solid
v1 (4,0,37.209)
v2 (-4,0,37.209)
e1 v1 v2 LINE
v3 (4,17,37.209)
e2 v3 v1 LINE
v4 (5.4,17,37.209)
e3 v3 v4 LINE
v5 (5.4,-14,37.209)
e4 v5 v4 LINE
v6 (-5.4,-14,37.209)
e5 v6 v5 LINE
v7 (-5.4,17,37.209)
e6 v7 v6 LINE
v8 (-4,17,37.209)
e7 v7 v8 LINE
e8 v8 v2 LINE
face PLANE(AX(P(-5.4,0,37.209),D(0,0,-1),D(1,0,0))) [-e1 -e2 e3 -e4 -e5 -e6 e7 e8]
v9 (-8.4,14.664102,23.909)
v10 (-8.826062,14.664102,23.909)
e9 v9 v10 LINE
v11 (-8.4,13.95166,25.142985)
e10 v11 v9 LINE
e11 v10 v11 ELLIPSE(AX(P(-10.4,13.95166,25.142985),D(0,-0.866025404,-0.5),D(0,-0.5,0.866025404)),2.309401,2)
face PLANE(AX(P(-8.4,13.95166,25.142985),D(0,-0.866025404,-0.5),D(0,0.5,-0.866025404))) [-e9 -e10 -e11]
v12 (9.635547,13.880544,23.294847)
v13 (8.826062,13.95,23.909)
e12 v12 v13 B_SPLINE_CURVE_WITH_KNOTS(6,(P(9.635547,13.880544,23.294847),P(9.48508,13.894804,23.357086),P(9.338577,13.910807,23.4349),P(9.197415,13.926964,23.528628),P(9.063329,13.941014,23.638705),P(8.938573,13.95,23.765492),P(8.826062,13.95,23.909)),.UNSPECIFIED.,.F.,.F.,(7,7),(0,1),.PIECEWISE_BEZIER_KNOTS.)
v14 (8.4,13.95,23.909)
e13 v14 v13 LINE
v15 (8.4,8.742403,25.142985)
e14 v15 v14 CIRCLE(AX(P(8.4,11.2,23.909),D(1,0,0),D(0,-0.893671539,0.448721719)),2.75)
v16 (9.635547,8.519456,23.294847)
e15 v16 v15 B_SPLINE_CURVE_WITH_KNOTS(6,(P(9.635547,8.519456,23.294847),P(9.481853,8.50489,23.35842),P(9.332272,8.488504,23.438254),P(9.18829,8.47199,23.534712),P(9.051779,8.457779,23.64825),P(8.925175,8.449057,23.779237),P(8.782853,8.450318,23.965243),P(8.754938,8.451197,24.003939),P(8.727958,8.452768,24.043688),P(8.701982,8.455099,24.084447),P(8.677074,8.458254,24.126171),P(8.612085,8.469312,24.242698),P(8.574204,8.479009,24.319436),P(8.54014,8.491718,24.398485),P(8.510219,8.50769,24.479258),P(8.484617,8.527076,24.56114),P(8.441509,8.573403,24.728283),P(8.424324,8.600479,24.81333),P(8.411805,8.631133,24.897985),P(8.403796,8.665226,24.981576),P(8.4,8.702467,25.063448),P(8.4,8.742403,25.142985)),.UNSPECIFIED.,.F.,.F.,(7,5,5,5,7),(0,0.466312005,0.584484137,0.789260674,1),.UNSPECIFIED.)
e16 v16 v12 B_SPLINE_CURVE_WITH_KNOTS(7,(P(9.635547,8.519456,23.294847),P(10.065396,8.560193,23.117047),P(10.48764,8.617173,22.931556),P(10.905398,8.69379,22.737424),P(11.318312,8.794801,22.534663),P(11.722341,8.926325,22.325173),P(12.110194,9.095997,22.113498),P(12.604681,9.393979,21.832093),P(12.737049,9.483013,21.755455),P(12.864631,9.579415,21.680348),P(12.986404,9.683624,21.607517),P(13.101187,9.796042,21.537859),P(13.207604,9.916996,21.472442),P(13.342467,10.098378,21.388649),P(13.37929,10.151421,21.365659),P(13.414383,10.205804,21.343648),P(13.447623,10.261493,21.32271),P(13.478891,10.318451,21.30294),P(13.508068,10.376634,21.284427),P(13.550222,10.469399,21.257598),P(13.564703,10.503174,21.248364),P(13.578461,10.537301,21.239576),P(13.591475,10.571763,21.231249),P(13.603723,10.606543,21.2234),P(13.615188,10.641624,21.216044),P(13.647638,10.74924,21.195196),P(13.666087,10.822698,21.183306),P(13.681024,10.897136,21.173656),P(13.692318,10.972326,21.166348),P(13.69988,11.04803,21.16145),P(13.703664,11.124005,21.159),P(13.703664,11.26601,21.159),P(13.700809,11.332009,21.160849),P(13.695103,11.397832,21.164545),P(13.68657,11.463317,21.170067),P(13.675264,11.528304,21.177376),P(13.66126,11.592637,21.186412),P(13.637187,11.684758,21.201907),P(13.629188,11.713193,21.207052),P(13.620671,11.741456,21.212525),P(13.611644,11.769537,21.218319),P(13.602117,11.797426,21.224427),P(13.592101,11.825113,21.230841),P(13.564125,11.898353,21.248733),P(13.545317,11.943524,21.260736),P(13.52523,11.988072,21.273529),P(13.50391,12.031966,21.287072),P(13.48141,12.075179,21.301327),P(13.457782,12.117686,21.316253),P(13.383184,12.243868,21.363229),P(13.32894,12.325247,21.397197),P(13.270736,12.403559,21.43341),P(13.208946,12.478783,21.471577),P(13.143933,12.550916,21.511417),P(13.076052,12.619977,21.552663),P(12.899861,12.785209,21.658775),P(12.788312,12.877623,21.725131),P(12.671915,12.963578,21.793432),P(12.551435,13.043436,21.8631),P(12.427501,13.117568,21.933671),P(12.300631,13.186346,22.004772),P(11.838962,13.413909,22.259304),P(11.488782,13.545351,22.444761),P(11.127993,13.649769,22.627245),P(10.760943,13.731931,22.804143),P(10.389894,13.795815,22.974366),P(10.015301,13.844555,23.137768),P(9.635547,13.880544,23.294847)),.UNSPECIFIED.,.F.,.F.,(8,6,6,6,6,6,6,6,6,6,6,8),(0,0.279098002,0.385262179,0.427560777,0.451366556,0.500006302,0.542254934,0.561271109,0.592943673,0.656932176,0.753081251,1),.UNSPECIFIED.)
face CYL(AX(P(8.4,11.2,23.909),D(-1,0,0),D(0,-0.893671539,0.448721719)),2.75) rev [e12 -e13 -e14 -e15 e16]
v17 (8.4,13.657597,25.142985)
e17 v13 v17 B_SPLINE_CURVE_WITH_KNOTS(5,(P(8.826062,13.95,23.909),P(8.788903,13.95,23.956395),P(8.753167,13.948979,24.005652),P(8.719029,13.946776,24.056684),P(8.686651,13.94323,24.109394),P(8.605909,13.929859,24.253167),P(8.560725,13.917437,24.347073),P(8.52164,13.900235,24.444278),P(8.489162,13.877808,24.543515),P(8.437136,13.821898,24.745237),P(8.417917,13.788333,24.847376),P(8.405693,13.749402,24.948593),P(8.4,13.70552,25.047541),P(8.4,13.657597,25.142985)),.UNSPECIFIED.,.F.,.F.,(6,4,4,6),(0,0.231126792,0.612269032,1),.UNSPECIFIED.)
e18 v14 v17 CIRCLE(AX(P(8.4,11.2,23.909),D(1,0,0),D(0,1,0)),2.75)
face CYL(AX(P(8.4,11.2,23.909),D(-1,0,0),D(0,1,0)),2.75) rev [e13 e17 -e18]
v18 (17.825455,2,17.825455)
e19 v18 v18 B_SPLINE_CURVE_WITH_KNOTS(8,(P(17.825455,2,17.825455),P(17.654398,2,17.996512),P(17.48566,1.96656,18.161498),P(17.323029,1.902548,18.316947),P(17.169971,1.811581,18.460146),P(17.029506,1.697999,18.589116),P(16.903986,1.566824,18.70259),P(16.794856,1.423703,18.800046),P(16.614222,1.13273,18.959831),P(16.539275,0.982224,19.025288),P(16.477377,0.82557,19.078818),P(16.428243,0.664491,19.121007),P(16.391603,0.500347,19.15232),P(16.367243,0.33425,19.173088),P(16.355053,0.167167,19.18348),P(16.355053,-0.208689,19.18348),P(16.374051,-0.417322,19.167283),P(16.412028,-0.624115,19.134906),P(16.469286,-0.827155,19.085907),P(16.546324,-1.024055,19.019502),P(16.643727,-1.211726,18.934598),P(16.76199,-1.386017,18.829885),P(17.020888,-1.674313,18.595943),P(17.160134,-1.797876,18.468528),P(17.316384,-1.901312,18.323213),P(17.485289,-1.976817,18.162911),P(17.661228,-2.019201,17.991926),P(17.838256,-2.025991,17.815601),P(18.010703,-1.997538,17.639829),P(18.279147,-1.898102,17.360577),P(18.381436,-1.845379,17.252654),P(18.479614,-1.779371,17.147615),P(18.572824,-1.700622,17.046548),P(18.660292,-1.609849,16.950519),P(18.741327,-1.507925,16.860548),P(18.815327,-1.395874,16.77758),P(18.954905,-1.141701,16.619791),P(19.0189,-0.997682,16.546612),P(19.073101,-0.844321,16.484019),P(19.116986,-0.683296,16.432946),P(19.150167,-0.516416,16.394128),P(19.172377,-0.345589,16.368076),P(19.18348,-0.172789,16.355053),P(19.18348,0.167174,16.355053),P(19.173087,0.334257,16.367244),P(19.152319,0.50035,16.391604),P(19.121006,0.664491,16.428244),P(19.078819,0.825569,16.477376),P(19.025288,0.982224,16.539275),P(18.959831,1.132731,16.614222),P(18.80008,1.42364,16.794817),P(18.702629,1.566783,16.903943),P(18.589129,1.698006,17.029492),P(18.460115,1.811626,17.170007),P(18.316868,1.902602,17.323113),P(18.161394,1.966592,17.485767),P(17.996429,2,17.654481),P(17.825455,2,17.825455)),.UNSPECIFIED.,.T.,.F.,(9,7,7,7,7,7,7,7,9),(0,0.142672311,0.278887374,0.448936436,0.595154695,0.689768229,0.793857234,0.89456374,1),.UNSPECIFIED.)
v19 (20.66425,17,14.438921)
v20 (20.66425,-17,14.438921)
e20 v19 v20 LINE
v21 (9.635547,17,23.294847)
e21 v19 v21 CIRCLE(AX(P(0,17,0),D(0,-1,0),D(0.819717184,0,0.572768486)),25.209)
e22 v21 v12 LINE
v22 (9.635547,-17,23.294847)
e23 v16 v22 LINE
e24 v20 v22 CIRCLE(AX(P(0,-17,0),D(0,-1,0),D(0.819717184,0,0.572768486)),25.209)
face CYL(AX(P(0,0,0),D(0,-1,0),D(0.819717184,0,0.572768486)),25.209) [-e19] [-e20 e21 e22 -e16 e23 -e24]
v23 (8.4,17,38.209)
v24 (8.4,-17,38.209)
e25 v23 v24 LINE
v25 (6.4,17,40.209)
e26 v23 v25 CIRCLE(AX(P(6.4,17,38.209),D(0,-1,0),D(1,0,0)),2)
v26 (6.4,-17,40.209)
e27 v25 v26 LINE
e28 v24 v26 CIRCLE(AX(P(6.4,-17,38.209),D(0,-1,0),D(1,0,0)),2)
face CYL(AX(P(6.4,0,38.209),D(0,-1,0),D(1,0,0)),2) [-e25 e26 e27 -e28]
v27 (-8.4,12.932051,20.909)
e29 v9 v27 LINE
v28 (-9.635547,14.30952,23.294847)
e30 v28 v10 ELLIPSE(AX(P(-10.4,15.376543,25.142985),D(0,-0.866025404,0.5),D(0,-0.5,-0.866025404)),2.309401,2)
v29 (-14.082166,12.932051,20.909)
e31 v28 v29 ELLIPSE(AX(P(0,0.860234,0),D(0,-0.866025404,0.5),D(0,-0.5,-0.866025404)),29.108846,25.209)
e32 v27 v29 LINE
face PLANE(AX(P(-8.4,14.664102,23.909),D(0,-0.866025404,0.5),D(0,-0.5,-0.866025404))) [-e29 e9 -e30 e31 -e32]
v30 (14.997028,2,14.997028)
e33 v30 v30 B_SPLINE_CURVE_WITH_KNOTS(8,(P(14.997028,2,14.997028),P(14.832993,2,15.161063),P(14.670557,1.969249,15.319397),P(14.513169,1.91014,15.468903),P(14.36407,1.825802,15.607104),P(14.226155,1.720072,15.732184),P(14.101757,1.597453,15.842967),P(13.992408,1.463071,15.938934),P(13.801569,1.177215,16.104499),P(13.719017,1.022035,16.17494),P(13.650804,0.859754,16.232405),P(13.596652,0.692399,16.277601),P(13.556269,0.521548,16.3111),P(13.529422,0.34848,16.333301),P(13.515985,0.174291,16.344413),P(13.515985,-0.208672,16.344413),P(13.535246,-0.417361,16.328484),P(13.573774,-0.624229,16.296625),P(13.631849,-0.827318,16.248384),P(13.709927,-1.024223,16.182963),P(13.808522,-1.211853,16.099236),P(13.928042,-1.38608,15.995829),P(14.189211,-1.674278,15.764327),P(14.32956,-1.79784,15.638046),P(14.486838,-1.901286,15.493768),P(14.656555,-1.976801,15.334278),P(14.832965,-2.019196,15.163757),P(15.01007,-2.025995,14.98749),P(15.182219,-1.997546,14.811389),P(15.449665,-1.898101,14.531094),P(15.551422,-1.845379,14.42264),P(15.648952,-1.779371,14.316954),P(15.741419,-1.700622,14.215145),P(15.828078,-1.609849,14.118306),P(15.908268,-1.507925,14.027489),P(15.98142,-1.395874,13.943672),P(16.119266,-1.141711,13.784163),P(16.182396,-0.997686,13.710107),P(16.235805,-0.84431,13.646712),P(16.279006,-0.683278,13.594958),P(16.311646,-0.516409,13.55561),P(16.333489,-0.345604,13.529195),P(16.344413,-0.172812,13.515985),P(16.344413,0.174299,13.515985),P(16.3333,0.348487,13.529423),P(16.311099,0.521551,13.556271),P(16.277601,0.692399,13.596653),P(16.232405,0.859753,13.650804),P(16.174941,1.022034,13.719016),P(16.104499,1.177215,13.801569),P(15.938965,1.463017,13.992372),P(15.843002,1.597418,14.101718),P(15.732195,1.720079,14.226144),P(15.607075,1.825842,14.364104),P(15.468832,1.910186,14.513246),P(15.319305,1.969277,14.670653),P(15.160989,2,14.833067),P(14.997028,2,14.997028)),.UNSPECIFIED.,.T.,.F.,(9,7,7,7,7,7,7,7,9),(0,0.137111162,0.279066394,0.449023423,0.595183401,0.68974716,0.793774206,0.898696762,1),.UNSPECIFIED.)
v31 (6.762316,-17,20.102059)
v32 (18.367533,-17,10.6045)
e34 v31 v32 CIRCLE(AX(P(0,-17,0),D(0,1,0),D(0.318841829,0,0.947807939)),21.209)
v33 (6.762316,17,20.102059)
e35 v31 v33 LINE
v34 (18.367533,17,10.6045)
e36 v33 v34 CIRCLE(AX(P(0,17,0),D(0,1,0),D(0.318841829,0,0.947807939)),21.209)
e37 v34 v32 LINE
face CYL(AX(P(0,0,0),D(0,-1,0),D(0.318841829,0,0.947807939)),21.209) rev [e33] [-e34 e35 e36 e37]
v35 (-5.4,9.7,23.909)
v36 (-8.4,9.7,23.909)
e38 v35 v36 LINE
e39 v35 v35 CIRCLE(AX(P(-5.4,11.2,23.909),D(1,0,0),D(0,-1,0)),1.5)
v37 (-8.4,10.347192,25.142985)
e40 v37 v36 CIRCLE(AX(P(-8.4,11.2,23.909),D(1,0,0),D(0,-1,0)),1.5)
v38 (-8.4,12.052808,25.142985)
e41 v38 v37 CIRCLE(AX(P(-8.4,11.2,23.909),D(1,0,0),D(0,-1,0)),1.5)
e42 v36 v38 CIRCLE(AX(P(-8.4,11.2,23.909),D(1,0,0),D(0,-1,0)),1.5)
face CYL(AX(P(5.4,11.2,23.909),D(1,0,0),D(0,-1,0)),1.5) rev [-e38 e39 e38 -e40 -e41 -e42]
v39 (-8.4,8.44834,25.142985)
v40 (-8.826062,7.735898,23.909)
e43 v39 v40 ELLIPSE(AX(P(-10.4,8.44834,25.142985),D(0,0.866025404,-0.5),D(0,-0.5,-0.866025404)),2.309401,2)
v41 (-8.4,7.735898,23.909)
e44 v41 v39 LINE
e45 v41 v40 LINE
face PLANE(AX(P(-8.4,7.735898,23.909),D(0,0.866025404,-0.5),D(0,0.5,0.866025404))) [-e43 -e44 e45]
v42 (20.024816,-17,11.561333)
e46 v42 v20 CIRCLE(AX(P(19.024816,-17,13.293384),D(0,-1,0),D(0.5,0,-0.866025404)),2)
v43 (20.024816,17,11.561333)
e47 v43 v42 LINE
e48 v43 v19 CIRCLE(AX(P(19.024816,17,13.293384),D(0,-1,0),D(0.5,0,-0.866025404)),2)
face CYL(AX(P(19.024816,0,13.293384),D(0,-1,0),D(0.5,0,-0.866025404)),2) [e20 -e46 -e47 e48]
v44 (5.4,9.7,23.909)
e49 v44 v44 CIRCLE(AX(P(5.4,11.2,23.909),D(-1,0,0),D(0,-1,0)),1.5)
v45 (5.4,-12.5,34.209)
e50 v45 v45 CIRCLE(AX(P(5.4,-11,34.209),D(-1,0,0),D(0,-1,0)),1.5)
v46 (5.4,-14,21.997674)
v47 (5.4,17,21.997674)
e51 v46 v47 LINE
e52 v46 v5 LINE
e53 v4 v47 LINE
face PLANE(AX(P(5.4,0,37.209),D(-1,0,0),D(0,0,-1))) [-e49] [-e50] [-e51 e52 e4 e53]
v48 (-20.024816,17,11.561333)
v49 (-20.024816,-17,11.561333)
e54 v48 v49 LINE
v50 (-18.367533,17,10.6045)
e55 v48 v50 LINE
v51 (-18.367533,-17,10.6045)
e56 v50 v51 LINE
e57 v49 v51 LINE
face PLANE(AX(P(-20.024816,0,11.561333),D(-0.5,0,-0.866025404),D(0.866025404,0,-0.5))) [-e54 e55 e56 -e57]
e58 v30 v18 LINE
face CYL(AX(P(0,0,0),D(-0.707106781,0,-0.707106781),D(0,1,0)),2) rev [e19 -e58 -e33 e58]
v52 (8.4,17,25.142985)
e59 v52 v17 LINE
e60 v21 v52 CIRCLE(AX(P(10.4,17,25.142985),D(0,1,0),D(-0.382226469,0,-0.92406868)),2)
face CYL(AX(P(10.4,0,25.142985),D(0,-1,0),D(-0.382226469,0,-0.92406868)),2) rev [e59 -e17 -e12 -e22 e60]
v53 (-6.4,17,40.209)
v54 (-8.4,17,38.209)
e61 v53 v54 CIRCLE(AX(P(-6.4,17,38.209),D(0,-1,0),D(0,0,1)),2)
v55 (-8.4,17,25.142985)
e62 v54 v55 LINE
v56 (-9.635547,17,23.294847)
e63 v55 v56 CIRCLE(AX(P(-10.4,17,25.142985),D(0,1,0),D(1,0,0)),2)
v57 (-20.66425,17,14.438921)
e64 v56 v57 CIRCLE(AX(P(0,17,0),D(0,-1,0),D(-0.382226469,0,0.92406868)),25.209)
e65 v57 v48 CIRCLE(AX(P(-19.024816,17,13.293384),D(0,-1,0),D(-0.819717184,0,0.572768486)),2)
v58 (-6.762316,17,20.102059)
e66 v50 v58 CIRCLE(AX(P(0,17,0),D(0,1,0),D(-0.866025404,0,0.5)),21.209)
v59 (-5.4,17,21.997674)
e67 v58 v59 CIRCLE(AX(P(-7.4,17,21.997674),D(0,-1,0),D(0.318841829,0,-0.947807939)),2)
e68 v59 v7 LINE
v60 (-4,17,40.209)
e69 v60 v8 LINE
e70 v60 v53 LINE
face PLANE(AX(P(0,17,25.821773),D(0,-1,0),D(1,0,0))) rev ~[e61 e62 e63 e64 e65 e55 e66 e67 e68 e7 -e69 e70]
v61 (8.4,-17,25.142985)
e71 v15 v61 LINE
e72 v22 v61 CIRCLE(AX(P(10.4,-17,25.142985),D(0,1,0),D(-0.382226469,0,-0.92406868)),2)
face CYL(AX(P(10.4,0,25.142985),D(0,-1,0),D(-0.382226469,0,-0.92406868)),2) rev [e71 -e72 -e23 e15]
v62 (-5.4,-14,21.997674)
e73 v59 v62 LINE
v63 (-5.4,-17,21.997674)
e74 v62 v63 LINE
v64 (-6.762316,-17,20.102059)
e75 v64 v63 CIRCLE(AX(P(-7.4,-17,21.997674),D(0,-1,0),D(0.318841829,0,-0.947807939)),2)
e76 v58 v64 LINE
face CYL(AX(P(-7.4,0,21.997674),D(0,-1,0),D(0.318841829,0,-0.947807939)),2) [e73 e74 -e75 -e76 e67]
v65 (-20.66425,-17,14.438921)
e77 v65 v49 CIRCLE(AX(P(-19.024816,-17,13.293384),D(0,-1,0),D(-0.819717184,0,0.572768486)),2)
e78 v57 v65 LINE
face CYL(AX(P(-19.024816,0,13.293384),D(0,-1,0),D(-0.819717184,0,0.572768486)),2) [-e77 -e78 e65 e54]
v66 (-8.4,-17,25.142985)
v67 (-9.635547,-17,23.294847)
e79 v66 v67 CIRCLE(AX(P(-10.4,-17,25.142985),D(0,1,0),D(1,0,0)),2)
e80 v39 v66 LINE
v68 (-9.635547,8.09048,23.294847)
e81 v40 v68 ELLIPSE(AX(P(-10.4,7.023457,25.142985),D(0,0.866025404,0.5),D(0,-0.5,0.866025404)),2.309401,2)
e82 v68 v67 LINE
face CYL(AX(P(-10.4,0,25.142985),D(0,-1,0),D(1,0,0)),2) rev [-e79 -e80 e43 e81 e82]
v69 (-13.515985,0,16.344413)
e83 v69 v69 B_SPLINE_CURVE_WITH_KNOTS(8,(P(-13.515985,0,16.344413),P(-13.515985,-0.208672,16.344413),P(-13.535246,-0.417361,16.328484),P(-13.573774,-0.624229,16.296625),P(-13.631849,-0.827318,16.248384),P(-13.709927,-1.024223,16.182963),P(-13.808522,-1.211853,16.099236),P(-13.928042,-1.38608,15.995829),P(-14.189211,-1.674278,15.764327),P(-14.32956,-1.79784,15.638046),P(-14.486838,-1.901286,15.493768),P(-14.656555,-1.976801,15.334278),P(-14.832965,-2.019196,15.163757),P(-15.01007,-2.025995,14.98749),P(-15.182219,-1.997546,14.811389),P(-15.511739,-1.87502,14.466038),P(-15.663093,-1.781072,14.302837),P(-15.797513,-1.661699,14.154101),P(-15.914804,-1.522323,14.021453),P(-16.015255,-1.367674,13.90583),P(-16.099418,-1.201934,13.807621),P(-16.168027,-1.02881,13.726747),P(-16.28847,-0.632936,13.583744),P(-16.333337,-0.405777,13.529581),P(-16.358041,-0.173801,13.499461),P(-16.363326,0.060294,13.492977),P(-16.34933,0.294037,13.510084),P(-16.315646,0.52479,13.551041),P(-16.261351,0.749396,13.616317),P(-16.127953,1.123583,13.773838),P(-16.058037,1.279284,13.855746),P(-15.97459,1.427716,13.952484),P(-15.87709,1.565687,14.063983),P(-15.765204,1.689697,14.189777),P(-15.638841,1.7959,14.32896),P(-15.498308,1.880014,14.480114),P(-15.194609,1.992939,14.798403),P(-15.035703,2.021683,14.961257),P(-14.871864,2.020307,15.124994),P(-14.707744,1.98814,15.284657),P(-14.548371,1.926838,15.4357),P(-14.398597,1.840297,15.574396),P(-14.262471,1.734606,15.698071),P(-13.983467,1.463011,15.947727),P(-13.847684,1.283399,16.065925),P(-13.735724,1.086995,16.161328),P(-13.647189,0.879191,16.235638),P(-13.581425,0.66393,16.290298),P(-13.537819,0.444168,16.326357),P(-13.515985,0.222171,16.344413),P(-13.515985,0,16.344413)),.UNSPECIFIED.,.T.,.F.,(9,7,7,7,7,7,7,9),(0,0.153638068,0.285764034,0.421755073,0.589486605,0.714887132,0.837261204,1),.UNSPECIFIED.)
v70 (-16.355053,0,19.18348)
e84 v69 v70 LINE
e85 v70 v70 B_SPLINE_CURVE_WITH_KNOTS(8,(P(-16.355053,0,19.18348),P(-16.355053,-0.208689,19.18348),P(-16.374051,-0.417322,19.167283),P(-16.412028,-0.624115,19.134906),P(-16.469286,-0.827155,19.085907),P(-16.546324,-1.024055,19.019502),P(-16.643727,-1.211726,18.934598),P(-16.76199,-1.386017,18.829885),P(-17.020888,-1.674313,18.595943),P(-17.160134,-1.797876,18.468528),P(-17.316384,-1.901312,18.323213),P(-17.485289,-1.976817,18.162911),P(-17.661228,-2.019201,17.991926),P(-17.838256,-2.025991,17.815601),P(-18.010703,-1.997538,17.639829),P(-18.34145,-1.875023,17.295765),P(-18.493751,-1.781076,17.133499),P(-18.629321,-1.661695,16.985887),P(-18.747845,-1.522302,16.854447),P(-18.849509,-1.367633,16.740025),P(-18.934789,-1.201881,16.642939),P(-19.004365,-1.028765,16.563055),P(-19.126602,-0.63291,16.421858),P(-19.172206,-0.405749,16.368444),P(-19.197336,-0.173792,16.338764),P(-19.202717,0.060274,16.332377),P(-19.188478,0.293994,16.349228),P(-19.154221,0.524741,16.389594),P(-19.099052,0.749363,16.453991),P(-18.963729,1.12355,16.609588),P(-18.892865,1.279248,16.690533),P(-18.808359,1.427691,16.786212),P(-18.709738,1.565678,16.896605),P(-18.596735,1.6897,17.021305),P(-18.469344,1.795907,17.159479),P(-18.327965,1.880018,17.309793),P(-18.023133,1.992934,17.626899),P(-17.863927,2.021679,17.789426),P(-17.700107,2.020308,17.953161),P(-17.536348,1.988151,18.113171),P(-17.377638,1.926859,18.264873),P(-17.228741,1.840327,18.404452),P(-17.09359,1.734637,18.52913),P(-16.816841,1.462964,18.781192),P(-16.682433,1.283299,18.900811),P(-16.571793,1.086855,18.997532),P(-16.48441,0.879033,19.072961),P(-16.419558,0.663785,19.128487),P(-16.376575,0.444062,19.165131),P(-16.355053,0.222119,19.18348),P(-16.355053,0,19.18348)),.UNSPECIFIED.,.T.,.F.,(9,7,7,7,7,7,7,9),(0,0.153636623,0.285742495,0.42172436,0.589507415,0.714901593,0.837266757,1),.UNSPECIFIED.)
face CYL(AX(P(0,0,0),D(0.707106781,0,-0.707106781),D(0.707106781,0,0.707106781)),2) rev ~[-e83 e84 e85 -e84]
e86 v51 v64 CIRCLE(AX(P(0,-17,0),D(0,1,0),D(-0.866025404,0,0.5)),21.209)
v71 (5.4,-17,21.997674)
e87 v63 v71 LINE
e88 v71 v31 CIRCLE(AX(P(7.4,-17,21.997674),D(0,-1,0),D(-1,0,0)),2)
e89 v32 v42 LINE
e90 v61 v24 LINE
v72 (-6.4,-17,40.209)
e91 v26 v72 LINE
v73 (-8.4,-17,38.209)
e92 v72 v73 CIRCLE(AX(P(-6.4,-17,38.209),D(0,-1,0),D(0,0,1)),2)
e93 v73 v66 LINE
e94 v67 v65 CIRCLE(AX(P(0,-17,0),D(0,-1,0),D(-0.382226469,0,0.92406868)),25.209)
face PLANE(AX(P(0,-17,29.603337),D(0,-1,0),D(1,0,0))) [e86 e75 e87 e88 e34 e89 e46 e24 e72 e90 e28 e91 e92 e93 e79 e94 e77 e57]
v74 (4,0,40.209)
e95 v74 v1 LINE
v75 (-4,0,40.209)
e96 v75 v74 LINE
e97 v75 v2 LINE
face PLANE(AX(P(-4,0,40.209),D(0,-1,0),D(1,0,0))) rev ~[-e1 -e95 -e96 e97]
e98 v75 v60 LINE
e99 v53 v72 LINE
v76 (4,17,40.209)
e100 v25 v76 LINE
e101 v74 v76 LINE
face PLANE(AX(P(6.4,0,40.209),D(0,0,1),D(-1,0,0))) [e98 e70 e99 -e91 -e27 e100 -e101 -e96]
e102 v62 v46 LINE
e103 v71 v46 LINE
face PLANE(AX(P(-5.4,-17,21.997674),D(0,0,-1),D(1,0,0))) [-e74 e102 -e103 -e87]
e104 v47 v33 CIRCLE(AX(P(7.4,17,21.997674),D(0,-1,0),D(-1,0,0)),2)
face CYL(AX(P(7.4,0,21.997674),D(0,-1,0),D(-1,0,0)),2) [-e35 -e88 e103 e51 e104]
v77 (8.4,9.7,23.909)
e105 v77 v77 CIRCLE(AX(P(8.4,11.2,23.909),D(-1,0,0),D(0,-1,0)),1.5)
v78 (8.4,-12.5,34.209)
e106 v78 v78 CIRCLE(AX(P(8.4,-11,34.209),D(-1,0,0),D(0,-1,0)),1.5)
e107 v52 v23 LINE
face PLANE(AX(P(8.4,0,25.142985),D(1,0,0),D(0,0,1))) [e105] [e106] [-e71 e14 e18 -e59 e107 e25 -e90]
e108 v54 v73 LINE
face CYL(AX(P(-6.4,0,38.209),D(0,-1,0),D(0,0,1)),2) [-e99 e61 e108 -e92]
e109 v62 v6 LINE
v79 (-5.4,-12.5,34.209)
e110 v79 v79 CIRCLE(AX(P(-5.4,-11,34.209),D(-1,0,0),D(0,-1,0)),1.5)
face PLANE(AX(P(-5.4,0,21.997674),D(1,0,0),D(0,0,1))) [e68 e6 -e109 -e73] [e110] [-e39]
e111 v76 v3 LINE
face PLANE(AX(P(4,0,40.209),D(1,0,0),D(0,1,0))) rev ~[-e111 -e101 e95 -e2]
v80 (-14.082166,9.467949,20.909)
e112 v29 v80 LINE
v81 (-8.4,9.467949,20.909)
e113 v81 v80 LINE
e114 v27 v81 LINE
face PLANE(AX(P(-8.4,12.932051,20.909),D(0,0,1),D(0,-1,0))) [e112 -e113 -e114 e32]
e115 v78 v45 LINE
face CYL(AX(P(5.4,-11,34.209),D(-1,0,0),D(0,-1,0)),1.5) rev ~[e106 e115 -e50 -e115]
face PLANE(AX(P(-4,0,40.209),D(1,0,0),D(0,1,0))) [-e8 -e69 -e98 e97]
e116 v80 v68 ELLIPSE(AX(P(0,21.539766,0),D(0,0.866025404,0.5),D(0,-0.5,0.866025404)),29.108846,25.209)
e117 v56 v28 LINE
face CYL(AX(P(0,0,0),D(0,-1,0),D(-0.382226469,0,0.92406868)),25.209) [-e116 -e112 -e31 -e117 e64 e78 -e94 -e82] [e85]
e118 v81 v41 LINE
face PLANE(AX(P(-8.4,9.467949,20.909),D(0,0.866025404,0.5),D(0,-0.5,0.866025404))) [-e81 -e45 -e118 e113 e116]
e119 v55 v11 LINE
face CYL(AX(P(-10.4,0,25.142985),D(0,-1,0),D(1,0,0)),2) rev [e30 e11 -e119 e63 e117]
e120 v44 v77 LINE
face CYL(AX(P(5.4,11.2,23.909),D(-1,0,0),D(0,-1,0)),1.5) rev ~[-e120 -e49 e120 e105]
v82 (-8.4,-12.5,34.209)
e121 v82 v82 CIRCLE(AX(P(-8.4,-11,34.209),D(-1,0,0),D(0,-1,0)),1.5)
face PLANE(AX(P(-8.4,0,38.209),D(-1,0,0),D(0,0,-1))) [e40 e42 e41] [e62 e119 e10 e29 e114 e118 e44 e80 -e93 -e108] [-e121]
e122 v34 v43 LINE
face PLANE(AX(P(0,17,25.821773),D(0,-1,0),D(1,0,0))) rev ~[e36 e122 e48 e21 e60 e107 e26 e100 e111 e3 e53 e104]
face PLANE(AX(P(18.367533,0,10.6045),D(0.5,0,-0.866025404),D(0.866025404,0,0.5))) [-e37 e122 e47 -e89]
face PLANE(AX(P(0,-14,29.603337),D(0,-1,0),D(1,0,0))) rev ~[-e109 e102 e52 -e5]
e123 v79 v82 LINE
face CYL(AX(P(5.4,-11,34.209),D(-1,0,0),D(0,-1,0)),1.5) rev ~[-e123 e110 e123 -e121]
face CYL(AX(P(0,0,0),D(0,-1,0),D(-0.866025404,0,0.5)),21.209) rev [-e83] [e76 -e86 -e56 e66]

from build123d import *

# Parameters (mm, degrees)
F1_DEPTH  = 17
F2_W      = 10.8
F2_H      = 15.2113255547
F3_DEPTH  = 3
F4_R      = 1.5
F5_DEPTH  = 20
F8_R      = 2
F9_DEPTH  = 43.2998466183
F11_R     = 2
F12_DEPTH = 43.2998466183
F15_DEPTH = 25
F17_DEPTH = 25
F13_W     = 8
F13_H     = 17
F18_DEPTH = 25


with BuildPart() as f1:
    # F0 (on Front) → F1 (new body, symmetric)
    with BuildSketch(Plane.XZ):
        with BuildLine():
            ThreePointArc((6.7623163428, 20.1020585682), (13.4323577243, 16.4132095267), (18.3675327889, 10.6045))
            Line((18.3675327889, 10.6045), (20.0248161228, 11.5613329789))
            ThreePointArc((20.0248161228, 11.5613329789), (20.9771944934, 12.8595419977), (20.6642504907, 14.4389207581))
            ThreePointArc((20.6642504907, 14.4389207581), (15.7837350444, 19.6562302858), (9.6355470616, 23.2948473664))
            ThreePointArc((9.6355470616, 23.2948473664), (8.7373355906, 24.0314330814), (8.4, 25.1429847274))
            Line((8.4, 25.1429847274), (8.4, 38.209))
            ThreePointArc((8.4, 38.209), (7.8142135624, 39.6232135624), (6.4, 40.209))
            Line((6.4, 40.209), (-6.4, 40.209))
            ThreePointArc((-6.4, 40.209), (-7.8142135624, 39.6232135624), (-8.4, 38.209))
            Line((-8.4, 38.209), (-8.4, 25.1429847274))
            ThreePointArc((-8.4, 25.1429847274), (-8.7373355906, 24.0314330814), (-9.6355470616, 23.2948473664))
            ThreePointArc((-9.6355470616, 23.2948473664), (-15.7837350444, 19.6562302858), (-20.6642504907, 14.4389207581))
            ThreePointArc((-20.6642504907, 14.4389207581), (-20.9771944934, 12.8595419977), (-20.0248161228, 11.5613329789))
            Line((-20.0248161228, 11.5613329789), (-18.3675327889, 10.6045))
            ThreePointArc((-18.3675327889, 10.6045), (-13.4323577243, 16.4132095267), (-6.7623163428, 20.1020585682))
            ThreePointArc((-6.7623163428, 20.1020585682), (-5.7759052807, 20.830491365), (-5.4, 21.9976744453))
            Line((-5.4, 21.9976744453), (-5.4, 37.209))
            Line((-5.4, 37.209), (5.4, 37.209))
            Line((5.4, 37.209), (5.4, 21.9976744453))
            ThreePointArc((5.4, 21.9976744453), (5.7759052807, 20.830491365), (6.7623163428, 20.1020585682))
        make_face()
    extrude(amount=F1_DEPTH, both=True)

    # F2 (on face) → F3 (join)
    with BuildSketch(Plane.XZ.offset(17)):
        with Locations((0, 29.6033372226)):
            Rectangle(F2_W, F2_H)
    extrude(amount=-F3_DEPTH)

    # F4 (on face) → F5 (cut, symmetric)
    with BuildSketch(Plane(origin=(5.4, 0, 0), x_dir=(0, -1, 0), z_dir=(-1, 0, 0))):
        with Locations((-11.2, 23.909)):
            Circle(F4_R)
        with Locations((11, 34.209)):
            Circle(F4_R)
    extrude(amount=F5_DEPTH, both=True, mode=Mode.SUBTRACT)

    # F8 (on line) → F9 (cut, through all)
    with BuildSketch(Plane(origin=(0, 0, 0), x_dir=(0.7071067812, 0, 0.7071067812), z_dir=(0.7071067812, 0, -0.7071067812))):
        Circle(F8_R)
    extrude(amount=-F9_DEPTH, mode=Mode.SUBTRACT)

    # F11 (on line) → F12 (cut, through all)
    with BuildSketch(Plane(origin=(0, 0, 0), x_dir=(0, 1, 0), z_dir=(0.7071067812, 0, 0.7071067812))):
        Circle(F11_R)
    extrude(amount=F12_DEPTH, mode=Mode.SUBTRACT)

    # F14 (on face) → F15 (cut)
    with BuildSketch(Plane.YZ.offset(8.4)):
        with BuildLine():
            Line((12.0528081218, 25.1429847274), (13.6575967311, 25.1429847274))
            ThreePointArc((13.6575967311, 25.1429847274), (11.2, 26.659), (8.7424032689, 25.1429847274))
            Line((8.7424032689, 25.1429847274), (10.3471918782, 25.1429847274))
            ThreePointArc((10.3471918782, 25.1429847274), (11.2, 25.409), (12.0528081218, 25.1429847274))
        make_face()
        with BuildLine():
            ThreePointArc((8.7424032689, 25.1429847274), (10.5659223275, 21.2330991227), (13.95, 23.909))
            ThreePointArc((13.95, 23.909), (13.8759008773, 24.5430776725), (13.6575967311, 25.1429847274))
            Line((13.6575967311, 25.1429847274), (12.0528081218, 25.1429847274))
            ThreePointArc((12.0528081218, 25.1429847274), (11.2, 25.409), (10.3471918782, 25.1429847274))
            Line((10.3471918782, 25.1429847274), (8.7424032689, 25.1429847274))
        make_face()
    extrude(amount=F15_DEPTH, mode=Mode.SUBTRACT)

    # F16 (on face) → F17 (cut)
    with BuildSketch(Plane(origin=(-8.4, 0, 0), x_dir=(0, -1, 0), z_dir=(-1, 0, 0))):
        with BuildLine():
            Line((-12.0528081218, 25.1429847274), (-13.9516602006, 25.1429847274))
            Line((-13.9516602006, 25.1429847274), (-14.6641016151, 23.909))
            Line((-14.6641016151, 23.909), (-12.9320508076, 20.909))
            Line((-12.9320508076, 20.909), (-9.4679491924, 20.909))
            Line((-9.4679491924, 20.909), (-7.7358983849, 23.909))
            Line((-7.7358983849, 23.909), (-8.4483397994, 25.1429847274))
            Line((-8.4483397994, 25.1429847274), (-10.3471918782, 25.1429847274))
            ThreePointArc((-10.3471918782, 25.1429847274), (-11.2, 25.409), (-12.0528081218, 25.1429847274))
        make_face()
    extrude(amount=F17_DEPTH, mode=Mode.SUBTRACT)

    # F13 (on face) → F18 (cut)
    with BuildSketch(Plane.XY.offset(40.209)):
        with Locations((0, 8.5)):
            Rectangle(F13_W, F13_H)
    extrude(amount=-F18_DEPTH, mode=Mode.SUBTRACT)


solid = f1.part
